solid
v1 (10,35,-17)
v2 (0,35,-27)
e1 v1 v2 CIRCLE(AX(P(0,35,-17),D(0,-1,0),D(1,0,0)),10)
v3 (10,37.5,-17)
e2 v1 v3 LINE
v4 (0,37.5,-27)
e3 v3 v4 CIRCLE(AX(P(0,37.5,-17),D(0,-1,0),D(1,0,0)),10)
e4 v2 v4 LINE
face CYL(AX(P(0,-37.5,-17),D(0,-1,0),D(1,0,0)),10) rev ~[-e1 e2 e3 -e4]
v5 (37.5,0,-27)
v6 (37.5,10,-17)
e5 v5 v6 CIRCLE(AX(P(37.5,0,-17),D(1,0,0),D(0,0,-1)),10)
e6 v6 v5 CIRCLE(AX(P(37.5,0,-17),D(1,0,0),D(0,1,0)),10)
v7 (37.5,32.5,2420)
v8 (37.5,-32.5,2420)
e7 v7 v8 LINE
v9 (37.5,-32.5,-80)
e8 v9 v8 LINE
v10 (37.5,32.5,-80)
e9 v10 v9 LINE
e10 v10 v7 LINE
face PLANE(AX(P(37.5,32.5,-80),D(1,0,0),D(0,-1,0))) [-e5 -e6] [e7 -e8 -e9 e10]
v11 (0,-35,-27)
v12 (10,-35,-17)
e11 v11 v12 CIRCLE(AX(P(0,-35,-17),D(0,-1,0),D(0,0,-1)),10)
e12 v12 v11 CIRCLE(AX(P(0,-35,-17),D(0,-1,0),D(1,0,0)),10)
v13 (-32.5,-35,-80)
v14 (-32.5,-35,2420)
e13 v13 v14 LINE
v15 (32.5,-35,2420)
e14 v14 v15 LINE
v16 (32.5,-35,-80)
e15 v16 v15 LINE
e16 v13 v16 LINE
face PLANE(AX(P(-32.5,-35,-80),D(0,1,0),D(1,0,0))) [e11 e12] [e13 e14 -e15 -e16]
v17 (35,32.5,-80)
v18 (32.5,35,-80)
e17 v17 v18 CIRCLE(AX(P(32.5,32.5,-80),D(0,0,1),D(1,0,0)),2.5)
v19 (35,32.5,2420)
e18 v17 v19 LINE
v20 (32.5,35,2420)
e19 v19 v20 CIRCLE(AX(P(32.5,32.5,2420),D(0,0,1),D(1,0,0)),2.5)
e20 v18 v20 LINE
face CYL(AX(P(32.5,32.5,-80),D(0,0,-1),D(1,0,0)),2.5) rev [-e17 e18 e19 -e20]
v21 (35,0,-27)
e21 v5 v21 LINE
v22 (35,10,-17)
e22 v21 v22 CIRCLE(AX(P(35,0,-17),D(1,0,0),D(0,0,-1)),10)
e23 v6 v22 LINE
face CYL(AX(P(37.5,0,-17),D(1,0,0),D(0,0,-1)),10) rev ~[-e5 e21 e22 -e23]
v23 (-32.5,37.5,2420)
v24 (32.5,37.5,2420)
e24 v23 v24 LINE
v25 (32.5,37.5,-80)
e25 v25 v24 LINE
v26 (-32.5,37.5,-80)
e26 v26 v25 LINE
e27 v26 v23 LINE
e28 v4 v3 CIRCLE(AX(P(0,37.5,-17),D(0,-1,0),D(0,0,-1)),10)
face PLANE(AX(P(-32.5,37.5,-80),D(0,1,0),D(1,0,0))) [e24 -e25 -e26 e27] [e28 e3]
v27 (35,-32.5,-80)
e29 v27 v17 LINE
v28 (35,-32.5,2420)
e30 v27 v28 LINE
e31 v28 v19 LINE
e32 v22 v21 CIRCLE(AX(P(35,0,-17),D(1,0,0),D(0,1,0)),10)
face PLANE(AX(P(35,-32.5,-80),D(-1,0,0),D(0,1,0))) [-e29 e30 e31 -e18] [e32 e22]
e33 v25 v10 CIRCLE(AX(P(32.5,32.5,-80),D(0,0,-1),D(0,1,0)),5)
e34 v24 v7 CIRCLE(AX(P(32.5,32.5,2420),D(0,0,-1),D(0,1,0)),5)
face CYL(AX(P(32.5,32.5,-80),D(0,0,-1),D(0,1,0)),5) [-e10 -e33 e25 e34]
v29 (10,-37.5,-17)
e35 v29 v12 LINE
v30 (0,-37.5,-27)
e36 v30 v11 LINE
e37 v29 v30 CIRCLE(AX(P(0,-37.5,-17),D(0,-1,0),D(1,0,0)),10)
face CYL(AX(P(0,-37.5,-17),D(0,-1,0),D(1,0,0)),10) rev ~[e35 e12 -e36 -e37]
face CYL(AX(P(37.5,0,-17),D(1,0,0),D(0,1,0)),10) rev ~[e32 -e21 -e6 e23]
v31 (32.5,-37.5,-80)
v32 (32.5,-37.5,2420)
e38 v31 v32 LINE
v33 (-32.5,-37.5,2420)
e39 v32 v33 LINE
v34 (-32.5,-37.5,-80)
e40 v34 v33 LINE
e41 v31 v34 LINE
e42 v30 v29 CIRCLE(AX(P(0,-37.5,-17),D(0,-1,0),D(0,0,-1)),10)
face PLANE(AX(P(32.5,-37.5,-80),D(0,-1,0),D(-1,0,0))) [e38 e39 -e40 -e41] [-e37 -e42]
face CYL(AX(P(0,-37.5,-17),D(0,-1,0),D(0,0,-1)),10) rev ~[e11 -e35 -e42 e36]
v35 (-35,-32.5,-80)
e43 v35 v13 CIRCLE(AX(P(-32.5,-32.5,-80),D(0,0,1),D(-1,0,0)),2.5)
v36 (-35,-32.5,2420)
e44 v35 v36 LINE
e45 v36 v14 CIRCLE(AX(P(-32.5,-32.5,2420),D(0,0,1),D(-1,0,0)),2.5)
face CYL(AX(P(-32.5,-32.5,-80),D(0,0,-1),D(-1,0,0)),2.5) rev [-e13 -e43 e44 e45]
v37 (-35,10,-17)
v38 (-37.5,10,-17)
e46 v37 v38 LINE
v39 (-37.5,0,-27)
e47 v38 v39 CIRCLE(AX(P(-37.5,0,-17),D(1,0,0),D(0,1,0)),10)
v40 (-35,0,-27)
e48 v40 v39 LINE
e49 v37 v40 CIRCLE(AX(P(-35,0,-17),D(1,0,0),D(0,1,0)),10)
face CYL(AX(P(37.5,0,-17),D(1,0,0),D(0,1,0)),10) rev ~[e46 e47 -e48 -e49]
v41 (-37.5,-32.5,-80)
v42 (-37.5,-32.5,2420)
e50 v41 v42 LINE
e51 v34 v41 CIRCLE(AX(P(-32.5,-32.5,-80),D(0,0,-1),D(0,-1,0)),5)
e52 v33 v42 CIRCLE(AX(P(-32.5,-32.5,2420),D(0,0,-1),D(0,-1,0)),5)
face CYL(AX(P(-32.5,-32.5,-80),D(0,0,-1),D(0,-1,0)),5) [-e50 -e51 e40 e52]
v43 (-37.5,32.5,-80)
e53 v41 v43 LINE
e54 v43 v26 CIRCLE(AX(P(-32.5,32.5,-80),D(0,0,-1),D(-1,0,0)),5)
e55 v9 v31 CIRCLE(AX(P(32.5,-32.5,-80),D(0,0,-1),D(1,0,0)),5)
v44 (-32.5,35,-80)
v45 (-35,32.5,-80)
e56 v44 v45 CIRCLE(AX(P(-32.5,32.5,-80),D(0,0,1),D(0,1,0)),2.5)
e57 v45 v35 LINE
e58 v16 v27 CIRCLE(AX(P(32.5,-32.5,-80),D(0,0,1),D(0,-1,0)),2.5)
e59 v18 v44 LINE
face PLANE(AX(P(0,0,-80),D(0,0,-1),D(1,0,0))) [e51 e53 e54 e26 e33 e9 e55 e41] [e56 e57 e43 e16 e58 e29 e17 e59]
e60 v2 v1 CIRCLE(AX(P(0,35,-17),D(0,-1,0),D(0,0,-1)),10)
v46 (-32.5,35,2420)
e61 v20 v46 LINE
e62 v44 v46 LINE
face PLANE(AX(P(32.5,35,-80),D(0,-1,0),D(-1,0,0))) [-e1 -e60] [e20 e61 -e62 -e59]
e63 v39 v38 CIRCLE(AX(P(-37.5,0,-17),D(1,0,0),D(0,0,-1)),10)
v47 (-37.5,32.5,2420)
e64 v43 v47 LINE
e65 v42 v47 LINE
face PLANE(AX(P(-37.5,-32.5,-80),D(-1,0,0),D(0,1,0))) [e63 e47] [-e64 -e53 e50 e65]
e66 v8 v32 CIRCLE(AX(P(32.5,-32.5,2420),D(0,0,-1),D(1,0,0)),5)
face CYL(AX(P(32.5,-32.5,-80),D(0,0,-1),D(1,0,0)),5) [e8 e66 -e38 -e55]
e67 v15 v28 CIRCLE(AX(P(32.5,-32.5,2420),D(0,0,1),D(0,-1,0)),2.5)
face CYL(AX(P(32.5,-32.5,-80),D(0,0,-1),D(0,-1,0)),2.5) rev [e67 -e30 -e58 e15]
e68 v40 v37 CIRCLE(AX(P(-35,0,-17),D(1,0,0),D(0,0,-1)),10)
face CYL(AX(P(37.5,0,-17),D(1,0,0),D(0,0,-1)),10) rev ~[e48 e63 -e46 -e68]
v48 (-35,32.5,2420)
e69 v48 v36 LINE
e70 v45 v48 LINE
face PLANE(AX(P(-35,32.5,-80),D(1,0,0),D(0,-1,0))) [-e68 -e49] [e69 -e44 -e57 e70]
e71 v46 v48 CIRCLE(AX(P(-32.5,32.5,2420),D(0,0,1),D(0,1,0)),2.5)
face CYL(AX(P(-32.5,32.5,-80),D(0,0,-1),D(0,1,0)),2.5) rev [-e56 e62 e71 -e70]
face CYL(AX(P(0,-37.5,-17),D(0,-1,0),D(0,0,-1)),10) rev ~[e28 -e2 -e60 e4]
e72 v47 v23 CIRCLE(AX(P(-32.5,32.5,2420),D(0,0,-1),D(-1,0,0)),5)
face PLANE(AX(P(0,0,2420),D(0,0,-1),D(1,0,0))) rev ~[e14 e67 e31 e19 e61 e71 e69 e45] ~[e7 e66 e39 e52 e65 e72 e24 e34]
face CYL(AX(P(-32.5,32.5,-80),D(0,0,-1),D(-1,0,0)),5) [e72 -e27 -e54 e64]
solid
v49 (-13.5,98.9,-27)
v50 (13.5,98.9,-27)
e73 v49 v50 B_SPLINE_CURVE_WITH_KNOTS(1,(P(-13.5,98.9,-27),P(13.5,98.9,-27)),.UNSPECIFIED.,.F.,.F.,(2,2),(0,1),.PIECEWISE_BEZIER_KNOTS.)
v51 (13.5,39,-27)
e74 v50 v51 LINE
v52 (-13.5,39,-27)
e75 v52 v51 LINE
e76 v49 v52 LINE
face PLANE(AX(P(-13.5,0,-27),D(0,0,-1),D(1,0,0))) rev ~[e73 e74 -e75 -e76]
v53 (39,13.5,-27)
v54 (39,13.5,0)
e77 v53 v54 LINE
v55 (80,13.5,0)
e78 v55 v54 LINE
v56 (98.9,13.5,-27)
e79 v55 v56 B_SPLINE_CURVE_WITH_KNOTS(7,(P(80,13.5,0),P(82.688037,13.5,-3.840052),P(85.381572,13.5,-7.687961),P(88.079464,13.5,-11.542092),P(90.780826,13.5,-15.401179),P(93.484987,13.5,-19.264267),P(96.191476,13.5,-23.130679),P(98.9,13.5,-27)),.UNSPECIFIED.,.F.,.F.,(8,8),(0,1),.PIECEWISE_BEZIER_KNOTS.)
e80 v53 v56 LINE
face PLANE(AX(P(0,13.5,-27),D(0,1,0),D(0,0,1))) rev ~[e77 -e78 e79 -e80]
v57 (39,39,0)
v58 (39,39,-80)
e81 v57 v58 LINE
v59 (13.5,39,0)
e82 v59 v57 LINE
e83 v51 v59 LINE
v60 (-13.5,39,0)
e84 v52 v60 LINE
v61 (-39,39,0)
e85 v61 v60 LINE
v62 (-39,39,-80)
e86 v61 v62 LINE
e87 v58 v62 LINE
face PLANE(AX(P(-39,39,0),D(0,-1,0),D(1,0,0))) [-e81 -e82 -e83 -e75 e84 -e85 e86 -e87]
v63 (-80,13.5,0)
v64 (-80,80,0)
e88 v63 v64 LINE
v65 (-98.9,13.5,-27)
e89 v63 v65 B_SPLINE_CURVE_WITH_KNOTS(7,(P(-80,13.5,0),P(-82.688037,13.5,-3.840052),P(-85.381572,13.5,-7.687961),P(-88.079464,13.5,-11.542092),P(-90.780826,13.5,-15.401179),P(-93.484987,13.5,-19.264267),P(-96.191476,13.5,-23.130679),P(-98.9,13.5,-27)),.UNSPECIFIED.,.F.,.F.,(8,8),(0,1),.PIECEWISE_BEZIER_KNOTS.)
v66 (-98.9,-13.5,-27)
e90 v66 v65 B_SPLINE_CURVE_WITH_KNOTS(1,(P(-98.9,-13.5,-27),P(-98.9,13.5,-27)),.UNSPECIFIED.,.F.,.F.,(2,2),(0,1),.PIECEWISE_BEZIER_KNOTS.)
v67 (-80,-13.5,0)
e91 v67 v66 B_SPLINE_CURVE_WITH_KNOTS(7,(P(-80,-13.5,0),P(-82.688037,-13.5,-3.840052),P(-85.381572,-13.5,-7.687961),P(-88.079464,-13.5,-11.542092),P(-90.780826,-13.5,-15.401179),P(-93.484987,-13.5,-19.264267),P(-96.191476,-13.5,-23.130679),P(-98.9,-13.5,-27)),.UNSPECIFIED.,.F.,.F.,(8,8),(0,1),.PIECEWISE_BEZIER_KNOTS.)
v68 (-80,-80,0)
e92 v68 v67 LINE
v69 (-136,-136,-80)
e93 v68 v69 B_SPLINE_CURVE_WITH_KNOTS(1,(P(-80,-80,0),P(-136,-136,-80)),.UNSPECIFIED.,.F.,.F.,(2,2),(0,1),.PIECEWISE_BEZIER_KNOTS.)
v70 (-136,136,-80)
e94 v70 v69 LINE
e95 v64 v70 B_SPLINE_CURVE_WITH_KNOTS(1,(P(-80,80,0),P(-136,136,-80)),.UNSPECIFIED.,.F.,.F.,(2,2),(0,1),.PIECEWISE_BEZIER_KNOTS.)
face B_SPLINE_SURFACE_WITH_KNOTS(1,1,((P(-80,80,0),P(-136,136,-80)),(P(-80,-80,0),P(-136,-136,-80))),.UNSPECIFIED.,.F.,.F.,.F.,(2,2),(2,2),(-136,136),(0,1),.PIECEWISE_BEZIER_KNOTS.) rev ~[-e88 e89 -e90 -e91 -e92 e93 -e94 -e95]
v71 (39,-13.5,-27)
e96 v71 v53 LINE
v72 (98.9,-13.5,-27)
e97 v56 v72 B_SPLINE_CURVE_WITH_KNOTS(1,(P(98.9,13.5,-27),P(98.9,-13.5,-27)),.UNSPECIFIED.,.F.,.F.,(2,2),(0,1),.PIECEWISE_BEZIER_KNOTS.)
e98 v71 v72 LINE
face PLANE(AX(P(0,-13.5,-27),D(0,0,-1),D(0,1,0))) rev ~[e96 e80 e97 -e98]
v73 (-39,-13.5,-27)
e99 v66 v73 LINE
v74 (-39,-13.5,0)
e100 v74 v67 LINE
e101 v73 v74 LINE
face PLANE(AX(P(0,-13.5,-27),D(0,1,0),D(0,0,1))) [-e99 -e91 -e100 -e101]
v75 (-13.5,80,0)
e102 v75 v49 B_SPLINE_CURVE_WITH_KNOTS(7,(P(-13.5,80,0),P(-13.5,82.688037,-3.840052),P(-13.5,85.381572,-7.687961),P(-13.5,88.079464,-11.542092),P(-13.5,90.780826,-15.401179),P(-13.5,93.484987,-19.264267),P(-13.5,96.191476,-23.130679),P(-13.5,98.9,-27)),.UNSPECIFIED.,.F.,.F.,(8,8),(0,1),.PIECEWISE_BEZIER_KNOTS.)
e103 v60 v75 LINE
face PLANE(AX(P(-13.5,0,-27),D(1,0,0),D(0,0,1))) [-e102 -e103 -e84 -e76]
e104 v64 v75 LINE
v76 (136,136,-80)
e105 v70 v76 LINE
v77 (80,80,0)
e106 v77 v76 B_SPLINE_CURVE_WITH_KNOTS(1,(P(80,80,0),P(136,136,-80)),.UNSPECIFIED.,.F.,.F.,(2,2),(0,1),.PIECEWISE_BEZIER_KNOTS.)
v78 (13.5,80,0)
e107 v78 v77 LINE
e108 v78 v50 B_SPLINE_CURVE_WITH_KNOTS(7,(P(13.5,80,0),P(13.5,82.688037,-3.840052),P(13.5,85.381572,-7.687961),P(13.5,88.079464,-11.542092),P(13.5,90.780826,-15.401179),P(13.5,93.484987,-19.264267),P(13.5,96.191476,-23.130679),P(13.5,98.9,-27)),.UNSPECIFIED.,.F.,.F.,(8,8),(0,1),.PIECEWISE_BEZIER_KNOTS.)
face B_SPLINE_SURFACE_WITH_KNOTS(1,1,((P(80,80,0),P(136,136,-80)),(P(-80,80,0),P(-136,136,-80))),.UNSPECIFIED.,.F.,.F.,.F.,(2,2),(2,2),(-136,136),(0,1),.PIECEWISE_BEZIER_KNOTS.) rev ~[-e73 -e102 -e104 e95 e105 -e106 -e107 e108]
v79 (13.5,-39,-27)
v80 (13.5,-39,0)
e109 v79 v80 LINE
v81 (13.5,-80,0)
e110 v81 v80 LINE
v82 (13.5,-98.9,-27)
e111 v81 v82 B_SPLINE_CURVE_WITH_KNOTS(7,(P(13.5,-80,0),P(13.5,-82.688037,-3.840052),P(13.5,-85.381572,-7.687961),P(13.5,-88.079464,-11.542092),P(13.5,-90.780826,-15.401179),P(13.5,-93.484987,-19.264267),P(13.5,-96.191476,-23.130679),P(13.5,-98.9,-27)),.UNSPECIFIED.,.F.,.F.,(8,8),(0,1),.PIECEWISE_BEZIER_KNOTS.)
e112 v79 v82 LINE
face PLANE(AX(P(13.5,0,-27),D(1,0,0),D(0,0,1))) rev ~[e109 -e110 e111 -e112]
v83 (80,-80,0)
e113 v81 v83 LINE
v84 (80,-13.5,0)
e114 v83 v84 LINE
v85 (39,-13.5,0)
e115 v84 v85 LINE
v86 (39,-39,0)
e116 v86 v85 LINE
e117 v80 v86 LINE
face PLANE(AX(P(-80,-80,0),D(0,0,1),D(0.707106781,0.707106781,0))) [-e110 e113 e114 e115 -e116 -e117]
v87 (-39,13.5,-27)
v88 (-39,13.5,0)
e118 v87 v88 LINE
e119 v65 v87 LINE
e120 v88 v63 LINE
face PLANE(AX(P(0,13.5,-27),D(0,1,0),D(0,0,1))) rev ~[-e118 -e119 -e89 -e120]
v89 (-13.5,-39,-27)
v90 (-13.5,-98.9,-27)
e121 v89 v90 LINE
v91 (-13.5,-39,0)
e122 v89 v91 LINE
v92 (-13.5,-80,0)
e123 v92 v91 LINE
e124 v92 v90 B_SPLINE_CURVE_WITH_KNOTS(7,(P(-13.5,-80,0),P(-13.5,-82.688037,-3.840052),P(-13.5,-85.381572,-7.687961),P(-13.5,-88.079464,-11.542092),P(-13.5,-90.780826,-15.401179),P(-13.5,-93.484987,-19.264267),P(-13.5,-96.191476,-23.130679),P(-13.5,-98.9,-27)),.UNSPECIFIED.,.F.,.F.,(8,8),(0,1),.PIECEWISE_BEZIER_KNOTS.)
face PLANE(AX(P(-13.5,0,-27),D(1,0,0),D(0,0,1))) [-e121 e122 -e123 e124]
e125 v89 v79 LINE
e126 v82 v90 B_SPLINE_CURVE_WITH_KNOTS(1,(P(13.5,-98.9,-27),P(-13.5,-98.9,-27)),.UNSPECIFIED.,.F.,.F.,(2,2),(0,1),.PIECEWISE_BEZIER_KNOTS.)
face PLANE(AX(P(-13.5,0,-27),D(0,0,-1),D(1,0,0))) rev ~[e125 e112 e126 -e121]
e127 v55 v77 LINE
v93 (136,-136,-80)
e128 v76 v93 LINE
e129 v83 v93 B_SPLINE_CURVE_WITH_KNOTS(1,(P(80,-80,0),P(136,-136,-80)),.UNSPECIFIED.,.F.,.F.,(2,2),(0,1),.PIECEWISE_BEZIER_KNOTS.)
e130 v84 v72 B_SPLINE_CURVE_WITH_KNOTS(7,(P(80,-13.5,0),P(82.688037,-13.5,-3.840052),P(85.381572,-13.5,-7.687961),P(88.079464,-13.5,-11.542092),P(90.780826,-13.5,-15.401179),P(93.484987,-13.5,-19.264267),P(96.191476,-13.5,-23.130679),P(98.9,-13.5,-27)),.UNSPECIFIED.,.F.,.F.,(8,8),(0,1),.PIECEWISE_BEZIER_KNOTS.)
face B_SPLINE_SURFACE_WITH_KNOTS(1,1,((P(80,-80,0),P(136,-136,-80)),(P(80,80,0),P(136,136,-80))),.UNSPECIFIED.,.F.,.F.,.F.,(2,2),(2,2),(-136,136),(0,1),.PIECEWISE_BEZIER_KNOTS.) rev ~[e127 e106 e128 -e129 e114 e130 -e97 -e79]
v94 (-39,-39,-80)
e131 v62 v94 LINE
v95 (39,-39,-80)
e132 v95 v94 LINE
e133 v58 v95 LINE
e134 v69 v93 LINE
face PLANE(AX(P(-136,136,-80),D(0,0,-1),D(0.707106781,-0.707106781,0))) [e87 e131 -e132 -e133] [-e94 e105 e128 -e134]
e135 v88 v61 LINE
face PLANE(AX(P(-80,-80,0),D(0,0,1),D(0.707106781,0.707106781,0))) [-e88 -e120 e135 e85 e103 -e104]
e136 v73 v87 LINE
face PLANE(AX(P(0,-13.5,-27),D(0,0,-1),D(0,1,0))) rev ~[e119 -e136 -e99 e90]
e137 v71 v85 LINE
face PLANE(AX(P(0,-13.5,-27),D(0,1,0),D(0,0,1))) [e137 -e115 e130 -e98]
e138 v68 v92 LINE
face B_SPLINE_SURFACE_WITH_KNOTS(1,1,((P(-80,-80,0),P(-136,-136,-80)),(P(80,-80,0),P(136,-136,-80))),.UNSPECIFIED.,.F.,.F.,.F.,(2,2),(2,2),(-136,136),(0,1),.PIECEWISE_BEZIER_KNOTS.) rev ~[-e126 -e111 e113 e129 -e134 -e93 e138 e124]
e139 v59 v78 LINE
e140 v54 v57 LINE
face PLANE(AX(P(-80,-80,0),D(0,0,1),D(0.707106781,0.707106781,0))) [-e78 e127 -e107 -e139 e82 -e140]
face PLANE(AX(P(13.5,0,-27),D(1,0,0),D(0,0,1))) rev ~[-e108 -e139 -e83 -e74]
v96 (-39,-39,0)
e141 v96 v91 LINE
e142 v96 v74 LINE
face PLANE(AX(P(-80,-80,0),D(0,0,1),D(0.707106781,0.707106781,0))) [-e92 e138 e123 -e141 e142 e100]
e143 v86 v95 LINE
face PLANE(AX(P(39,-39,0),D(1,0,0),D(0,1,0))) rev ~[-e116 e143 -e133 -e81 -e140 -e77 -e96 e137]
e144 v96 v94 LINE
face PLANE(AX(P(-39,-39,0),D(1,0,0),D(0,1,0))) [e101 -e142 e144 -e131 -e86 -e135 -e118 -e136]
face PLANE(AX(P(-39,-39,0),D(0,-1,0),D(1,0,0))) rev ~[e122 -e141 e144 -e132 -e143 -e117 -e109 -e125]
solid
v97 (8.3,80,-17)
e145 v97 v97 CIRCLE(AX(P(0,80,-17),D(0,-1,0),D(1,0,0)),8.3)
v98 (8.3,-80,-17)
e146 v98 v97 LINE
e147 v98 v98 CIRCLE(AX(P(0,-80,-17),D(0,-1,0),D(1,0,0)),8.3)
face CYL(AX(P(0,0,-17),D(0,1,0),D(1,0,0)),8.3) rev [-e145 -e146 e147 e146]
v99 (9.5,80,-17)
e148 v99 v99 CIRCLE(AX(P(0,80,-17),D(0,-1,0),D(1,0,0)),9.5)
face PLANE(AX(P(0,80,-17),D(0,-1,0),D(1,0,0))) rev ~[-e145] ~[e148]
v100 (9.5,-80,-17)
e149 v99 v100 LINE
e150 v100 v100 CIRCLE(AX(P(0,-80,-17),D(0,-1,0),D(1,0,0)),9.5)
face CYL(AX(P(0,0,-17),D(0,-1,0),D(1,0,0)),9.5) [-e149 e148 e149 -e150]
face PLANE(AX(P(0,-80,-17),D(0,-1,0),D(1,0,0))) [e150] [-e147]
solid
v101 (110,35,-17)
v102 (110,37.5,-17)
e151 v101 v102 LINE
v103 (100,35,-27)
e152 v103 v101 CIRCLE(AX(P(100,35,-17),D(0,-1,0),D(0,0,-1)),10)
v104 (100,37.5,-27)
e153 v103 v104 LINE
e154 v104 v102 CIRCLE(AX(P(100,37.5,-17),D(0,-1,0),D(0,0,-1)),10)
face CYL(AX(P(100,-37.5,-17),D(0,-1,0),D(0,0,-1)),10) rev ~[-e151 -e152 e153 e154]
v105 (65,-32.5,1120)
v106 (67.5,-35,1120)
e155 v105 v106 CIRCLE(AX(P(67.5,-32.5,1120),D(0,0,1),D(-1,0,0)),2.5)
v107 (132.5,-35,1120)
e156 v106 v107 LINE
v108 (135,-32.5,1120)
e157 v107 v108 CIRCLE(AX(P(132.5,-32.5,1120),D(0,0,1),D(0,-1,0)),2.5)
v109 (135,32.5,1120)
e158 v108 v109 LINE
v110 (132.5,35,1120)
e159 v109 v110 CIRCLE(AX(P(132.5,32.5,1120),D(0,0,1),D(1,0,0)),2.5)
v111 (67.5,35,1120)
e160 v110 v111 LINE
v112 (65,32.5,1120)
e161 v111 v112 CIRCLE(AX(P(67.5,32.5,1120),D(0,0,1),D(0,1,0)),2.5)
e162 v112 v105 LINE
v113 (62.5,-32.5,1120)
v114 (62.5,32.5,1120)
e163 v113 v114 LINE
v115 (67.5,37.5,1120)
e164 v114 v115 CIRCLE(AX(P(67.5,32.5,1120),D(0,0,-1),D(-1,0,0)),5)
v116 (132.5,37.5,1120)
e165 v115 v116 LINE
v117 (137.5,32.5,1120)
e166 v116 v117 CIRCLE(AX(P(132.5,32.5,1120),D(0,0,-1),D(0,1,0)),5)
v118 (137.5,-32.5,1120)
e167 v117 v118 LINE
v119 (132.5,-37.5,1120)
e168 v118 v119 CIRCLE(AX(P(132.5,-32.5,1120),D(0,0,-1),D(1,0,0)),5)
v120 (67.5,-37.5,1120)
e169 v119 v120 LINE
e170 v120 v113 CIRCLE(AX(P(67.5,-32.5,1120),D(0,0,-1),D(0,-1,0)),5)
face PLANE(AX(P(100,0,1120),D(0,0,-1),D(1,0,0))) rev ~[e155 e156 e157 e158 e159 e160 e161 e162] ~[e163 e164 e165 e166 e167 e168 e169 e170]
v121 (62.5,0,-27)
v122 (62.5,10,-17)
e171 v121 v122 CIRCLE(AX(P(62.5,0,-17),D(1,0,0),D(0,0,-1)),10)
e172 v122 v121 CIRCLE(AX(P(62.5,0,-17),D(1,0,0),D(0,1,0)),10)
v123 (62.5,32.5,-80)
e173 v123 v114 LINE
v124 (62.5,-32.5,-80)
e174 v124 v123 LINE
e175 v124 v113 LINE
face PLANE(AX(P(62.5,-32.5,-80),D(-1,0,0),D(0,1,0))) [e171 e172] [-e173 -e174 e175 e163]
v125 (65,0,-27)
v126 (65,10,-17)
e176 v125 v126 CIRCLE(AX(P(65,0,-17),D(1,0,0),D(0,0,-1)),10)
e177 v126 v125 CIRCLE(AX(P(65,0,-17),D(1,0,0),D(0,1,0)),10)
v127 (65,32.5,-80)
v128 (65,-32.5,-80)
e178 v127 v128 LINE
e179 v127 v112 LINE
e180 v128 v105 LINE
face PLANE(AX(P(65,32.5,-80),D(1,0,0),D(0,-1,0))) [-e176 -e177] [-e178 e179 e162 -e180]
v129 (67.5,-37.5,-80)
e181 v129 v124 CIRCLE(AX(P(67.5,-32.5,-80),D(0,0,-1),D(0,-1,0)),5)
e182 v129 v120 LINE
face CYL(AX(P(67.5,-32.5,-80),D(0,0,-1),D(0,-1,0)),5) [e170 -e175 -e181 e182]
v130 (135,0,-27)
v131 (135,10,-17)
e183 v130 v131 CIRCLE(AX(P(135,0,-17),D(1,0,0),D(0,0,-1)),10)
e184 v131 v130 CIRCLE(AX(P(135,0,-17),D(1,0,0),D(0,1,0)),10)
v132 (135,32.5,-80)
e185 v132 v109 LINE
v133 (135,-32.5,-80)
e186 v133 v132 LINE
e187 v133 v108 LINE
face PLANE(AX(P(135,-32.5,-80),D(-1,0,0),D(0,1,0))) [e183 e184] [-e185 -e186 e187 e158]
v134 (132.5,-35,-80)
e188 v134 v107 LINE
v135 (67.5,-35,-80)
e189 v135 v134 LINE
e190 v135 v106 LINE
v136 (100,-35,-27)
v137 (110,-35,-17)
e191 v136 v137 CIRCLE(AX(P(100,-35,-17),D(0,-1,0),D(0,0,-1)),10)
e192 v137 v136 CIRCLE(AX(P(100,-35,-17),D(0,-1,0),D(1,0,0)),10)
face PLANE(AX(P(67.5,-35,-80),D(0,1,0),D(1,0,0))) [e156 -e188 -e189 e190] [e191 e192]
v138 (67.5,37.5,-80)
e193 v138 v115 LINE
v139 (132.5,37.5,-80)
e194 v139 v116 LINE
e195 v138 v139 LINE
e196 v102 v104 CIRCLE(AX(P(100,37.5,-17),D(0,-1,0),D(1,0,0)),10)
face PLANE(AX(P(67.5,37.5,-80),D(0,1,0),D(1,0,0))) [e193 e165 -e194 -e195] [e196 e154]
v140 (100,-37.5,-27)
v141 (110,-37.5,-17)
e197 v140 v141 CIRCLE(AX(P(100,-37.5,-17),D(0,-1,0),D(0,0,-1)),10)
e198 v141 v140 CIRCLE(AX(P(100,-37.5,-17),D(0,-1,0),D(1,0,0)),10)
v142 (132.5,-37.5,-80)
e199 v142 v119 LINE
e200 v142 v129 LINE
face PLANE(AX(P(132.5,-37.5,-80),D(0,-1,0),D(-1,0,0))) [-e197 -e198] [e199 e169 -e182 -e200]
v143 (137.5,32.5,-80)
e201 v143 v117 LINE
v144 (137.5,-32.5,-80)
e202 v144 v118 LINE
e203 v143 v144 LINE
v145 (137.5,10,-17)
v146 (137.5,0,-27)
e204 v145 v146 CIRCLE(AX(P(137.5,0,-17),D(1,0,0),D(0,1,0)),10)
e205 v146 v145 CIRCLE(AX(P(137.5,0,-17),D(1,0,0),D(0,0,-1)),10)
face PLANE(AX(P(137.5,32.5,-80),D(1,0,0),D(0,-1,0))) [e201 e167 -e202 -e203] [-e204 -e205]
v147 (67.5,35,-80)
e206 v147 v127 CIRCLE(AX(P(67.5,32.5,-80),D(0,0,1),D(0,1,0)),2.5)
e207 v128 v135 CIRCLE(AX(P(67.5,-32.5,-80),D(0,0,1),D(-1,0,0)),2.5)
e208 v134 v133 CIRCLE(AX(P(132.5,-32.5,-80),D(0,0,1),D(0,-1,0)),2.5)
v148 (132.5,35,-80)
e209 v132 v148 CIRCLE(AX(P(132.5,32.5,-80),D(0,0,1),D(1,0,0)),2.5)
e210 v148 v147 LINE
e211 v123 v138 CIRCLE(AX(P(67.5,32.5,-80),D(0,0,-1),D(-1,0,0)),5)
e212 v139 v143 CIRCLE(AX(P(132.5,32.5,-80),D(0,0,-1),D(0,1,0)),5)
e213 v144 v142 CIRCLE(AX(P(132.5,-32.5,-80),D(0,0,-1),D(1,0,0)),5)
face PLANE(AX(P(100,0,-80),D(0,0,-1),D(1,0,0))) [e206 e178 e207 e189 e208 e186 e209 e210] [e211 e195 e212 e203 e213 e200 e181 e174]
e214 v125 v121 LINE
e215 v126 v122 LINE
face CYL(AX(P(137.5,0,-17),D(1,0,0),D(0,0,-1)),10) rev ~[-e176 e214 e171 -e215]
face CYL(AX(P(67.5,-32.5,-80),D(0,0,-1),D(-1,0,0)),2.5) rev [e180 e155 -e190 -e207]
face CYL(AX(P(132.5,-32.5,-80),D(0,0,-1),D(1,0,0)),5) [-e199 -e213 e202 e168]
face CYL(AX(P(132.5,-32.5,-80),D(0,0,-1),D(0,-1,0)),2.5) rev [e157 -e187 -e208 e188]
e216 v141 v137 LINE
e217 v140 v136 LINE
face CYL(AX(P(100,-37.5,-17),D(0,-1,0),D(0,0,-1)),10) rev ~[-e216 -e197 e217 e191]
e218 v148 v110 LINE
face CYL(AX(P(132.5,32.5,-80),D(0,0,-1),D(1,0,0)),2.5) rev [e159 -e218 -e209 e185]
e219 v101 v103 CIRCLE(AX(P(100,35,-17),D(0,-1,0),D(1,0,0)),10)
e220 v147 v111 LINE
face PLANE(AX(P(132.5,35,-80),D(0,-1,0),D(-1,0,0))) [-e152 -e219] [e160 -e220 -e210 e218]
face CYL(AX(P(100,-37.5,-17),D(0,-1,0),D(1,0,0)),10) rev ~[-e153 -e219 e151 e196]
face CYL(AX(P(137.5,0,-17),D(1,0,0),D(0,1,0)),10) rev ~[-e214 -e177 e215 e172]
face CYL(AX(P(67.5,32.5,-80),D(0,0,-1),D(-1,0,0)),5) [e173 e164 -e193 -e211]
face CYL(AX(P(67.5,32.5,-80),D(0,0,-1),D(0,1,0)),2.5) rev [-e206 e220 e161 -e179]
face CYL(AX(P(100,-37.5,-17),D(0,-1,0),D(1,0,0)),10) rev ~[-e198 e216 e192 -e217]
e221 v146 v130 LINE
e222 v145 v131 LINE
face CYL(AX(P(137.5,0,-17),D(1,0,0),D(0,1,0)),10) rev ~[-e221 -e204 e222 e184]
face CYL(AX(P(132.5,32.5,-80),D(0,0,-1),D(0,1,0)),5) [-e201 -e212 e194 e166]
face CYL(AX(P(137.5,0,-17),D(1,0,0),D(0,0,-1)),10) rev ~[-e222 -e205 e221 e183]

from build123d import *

# Parameters (mm, degrees)
F0_W      = 160
F0_H      = 160
F3_W      = 272
F3_H      = 272
F5_W      = 78
F5_H      = 78
F6_DEPTH  = 80.0010001
F7_W      = 27
F7_H      = 54
F8_DEPTH  = 119.1
F9_W      = 27
F9_H      = 54
F10_DEPTH = 400
F12_DEPTH = 2500
F14_DEPTH = 173.5010001
F16_DEPTH = 173.5010001
F17_R     = 9.5
F17_R_2   = 8.3
F18_DEPTH = 80
F20_DEPTH = 1300


with BuildPart() as f4:
    # F0 (on Top) → F4 section 0
    with BuildSketch(Plane.XY):
        Rectangle(F0_W, F0_H)
    # F3 (on line) → F4 section 1
    with BuildSketch(Plane(origin=(0, 0, -80), x_dir=(1, 0, 0), z_dir=(0, 0, -1))):
        Rectangle(F3_W, F3_H)
    loft()

    # F5 (on face) → F6 (cut, through all)
    with BuildSketch(Plane.XY):
        Rectangle(F5_W, F5_H)
    extrude(amount=-F6_DEPTH, mode=Mode.SUBTRACT)

    # F7 (on Front) → F8 (cut, symmetric)
    with BuildSketch(Plane.XZ):
        Rectangle(F7_W, F7_H)
    extrude(amount=F8_DEPTH, both=True, mode=Mode.SUBTRACT)

    # F9 (on Right) → F10 (cut, symmetric)
    with BuildSketch(Plane.YZ):
        Rectangle(F9_W, F9_H)
    extrude(amount=F10_DEPTH, both=True, mode=Mode.SUBTRACT)


with BuildPart() as f12:
    # F11 (on line) → F12 (new body)
    with BuildSketch(Plane(origin=(0, 0, -80), x_dir=(1, 0, 0), z_dir=(0, 0, -1))):
        with BuildLine():
            Line((32.5, 37.5), (-32.5, 37.5))
            ThreePointArc((-32.5, 37.5), (-36.0355339059, 36.0355339059), (-37.5, 32.5))
            Line((-37.5, 32.5), (-37.5, -32.5))
            ThreePointArc((-37.5, -32.5), (-36.0355339059, -36.0355339059), (-32.5, -37.5))
            Line((-32.5, -37.5), (32.5, -37.5))
            ThreePointArc((32.5, -37.5), (36.0355339059, -36.0355339059), (37.5, -32.5))
            Line((37.5, -32.5), (37.5, 32.5))
            ThreePointArc((37.5, 32.5), (36.0355339059, 36.0355339059), (32.5, 37.5))
        make_face()
        with BuildLine():
            ThreePointArc((-35, 32.5), (-34.267766953, 34.267766953), (-32.5, 35))
            Line((-32.5, 35), (32.5, 35))
            ThreePointArc((32.5, 35), (34.267766953, 34.267766953), (35, 32.5))
            Line((35, 32.5), (35, -32.5))
            ThreePointArc((35, -32.5), (34.267766953, -34.267766953), (32.5, -35))
            Line((32.5, -35), (-32.5, -35))
            ThreePointArc((-32.5, -35), (-34.267766953, -34.267766953), (-35, -32.5))
            Line((-35, -32.5), (-35, 32.5))
        make_face(mode=Mode.SUBTRACT)
    extrude(amount=-F12_DEPTH)

    # F13 (on face) → F14 (cut, through all)
    with BuildSketch(Plane.XZ.offset(37.5)):
        with BuildLine():
            ThreePointArc((0, -27), (7.0710678119, -24.0710678119), (10, -17))
            ThreePointArc((10, -17), (-7.0710678119, -9.9289321881), (0, -27))
        make_face()
    extrude(amount=-F14_DEPTH, mode=Mode.SUBTRACT)

    # F15 (on face) → F16 (cut, through all)
    with BuildSketch(Plane.YZ.offset(37.5)):
        with BuildLine():
            ThreePointArc((0, -27), (7.0710678119, -24.0710678119), (10, -17))
            ThreePointArc((10, -17), (-7.0710678119, -9.9289321881), (0, -27))
        make_face()
    extrude(amount=-F16_DEPTH, mode=Mode.SUBTRACT)


with BuildPart() as f18:
    # F17 (on Front) → F18 (new body, symmetric)
    with BuildSketch(Plane.XZ):
        with Locations((0, -17)):
            Circle(F17_R)
        with Locations((0, -17)):
            Circle(F17_R_2, mode=Mode.SUBTRACT)
    extrude(amount=F18_DEPTH, both=True)


with BuildPart() as f19_1:
    # F19: copy of F12
    add(f12.part.moved(Location((100, 0, 0))))

    # F20 (cut): a face of the model
    f20_faces = [f19_1.faces().sort_by_distance(p)[0] for p in [
        (100, -36.4393398282, 2420),
    ]]
    extrude(f20_faces, amount=-F20_DEPTH, mode=Mode.SUBTRACT)


solid = Compound([f4.part, f12.part, f18.part, f19_1.part])
